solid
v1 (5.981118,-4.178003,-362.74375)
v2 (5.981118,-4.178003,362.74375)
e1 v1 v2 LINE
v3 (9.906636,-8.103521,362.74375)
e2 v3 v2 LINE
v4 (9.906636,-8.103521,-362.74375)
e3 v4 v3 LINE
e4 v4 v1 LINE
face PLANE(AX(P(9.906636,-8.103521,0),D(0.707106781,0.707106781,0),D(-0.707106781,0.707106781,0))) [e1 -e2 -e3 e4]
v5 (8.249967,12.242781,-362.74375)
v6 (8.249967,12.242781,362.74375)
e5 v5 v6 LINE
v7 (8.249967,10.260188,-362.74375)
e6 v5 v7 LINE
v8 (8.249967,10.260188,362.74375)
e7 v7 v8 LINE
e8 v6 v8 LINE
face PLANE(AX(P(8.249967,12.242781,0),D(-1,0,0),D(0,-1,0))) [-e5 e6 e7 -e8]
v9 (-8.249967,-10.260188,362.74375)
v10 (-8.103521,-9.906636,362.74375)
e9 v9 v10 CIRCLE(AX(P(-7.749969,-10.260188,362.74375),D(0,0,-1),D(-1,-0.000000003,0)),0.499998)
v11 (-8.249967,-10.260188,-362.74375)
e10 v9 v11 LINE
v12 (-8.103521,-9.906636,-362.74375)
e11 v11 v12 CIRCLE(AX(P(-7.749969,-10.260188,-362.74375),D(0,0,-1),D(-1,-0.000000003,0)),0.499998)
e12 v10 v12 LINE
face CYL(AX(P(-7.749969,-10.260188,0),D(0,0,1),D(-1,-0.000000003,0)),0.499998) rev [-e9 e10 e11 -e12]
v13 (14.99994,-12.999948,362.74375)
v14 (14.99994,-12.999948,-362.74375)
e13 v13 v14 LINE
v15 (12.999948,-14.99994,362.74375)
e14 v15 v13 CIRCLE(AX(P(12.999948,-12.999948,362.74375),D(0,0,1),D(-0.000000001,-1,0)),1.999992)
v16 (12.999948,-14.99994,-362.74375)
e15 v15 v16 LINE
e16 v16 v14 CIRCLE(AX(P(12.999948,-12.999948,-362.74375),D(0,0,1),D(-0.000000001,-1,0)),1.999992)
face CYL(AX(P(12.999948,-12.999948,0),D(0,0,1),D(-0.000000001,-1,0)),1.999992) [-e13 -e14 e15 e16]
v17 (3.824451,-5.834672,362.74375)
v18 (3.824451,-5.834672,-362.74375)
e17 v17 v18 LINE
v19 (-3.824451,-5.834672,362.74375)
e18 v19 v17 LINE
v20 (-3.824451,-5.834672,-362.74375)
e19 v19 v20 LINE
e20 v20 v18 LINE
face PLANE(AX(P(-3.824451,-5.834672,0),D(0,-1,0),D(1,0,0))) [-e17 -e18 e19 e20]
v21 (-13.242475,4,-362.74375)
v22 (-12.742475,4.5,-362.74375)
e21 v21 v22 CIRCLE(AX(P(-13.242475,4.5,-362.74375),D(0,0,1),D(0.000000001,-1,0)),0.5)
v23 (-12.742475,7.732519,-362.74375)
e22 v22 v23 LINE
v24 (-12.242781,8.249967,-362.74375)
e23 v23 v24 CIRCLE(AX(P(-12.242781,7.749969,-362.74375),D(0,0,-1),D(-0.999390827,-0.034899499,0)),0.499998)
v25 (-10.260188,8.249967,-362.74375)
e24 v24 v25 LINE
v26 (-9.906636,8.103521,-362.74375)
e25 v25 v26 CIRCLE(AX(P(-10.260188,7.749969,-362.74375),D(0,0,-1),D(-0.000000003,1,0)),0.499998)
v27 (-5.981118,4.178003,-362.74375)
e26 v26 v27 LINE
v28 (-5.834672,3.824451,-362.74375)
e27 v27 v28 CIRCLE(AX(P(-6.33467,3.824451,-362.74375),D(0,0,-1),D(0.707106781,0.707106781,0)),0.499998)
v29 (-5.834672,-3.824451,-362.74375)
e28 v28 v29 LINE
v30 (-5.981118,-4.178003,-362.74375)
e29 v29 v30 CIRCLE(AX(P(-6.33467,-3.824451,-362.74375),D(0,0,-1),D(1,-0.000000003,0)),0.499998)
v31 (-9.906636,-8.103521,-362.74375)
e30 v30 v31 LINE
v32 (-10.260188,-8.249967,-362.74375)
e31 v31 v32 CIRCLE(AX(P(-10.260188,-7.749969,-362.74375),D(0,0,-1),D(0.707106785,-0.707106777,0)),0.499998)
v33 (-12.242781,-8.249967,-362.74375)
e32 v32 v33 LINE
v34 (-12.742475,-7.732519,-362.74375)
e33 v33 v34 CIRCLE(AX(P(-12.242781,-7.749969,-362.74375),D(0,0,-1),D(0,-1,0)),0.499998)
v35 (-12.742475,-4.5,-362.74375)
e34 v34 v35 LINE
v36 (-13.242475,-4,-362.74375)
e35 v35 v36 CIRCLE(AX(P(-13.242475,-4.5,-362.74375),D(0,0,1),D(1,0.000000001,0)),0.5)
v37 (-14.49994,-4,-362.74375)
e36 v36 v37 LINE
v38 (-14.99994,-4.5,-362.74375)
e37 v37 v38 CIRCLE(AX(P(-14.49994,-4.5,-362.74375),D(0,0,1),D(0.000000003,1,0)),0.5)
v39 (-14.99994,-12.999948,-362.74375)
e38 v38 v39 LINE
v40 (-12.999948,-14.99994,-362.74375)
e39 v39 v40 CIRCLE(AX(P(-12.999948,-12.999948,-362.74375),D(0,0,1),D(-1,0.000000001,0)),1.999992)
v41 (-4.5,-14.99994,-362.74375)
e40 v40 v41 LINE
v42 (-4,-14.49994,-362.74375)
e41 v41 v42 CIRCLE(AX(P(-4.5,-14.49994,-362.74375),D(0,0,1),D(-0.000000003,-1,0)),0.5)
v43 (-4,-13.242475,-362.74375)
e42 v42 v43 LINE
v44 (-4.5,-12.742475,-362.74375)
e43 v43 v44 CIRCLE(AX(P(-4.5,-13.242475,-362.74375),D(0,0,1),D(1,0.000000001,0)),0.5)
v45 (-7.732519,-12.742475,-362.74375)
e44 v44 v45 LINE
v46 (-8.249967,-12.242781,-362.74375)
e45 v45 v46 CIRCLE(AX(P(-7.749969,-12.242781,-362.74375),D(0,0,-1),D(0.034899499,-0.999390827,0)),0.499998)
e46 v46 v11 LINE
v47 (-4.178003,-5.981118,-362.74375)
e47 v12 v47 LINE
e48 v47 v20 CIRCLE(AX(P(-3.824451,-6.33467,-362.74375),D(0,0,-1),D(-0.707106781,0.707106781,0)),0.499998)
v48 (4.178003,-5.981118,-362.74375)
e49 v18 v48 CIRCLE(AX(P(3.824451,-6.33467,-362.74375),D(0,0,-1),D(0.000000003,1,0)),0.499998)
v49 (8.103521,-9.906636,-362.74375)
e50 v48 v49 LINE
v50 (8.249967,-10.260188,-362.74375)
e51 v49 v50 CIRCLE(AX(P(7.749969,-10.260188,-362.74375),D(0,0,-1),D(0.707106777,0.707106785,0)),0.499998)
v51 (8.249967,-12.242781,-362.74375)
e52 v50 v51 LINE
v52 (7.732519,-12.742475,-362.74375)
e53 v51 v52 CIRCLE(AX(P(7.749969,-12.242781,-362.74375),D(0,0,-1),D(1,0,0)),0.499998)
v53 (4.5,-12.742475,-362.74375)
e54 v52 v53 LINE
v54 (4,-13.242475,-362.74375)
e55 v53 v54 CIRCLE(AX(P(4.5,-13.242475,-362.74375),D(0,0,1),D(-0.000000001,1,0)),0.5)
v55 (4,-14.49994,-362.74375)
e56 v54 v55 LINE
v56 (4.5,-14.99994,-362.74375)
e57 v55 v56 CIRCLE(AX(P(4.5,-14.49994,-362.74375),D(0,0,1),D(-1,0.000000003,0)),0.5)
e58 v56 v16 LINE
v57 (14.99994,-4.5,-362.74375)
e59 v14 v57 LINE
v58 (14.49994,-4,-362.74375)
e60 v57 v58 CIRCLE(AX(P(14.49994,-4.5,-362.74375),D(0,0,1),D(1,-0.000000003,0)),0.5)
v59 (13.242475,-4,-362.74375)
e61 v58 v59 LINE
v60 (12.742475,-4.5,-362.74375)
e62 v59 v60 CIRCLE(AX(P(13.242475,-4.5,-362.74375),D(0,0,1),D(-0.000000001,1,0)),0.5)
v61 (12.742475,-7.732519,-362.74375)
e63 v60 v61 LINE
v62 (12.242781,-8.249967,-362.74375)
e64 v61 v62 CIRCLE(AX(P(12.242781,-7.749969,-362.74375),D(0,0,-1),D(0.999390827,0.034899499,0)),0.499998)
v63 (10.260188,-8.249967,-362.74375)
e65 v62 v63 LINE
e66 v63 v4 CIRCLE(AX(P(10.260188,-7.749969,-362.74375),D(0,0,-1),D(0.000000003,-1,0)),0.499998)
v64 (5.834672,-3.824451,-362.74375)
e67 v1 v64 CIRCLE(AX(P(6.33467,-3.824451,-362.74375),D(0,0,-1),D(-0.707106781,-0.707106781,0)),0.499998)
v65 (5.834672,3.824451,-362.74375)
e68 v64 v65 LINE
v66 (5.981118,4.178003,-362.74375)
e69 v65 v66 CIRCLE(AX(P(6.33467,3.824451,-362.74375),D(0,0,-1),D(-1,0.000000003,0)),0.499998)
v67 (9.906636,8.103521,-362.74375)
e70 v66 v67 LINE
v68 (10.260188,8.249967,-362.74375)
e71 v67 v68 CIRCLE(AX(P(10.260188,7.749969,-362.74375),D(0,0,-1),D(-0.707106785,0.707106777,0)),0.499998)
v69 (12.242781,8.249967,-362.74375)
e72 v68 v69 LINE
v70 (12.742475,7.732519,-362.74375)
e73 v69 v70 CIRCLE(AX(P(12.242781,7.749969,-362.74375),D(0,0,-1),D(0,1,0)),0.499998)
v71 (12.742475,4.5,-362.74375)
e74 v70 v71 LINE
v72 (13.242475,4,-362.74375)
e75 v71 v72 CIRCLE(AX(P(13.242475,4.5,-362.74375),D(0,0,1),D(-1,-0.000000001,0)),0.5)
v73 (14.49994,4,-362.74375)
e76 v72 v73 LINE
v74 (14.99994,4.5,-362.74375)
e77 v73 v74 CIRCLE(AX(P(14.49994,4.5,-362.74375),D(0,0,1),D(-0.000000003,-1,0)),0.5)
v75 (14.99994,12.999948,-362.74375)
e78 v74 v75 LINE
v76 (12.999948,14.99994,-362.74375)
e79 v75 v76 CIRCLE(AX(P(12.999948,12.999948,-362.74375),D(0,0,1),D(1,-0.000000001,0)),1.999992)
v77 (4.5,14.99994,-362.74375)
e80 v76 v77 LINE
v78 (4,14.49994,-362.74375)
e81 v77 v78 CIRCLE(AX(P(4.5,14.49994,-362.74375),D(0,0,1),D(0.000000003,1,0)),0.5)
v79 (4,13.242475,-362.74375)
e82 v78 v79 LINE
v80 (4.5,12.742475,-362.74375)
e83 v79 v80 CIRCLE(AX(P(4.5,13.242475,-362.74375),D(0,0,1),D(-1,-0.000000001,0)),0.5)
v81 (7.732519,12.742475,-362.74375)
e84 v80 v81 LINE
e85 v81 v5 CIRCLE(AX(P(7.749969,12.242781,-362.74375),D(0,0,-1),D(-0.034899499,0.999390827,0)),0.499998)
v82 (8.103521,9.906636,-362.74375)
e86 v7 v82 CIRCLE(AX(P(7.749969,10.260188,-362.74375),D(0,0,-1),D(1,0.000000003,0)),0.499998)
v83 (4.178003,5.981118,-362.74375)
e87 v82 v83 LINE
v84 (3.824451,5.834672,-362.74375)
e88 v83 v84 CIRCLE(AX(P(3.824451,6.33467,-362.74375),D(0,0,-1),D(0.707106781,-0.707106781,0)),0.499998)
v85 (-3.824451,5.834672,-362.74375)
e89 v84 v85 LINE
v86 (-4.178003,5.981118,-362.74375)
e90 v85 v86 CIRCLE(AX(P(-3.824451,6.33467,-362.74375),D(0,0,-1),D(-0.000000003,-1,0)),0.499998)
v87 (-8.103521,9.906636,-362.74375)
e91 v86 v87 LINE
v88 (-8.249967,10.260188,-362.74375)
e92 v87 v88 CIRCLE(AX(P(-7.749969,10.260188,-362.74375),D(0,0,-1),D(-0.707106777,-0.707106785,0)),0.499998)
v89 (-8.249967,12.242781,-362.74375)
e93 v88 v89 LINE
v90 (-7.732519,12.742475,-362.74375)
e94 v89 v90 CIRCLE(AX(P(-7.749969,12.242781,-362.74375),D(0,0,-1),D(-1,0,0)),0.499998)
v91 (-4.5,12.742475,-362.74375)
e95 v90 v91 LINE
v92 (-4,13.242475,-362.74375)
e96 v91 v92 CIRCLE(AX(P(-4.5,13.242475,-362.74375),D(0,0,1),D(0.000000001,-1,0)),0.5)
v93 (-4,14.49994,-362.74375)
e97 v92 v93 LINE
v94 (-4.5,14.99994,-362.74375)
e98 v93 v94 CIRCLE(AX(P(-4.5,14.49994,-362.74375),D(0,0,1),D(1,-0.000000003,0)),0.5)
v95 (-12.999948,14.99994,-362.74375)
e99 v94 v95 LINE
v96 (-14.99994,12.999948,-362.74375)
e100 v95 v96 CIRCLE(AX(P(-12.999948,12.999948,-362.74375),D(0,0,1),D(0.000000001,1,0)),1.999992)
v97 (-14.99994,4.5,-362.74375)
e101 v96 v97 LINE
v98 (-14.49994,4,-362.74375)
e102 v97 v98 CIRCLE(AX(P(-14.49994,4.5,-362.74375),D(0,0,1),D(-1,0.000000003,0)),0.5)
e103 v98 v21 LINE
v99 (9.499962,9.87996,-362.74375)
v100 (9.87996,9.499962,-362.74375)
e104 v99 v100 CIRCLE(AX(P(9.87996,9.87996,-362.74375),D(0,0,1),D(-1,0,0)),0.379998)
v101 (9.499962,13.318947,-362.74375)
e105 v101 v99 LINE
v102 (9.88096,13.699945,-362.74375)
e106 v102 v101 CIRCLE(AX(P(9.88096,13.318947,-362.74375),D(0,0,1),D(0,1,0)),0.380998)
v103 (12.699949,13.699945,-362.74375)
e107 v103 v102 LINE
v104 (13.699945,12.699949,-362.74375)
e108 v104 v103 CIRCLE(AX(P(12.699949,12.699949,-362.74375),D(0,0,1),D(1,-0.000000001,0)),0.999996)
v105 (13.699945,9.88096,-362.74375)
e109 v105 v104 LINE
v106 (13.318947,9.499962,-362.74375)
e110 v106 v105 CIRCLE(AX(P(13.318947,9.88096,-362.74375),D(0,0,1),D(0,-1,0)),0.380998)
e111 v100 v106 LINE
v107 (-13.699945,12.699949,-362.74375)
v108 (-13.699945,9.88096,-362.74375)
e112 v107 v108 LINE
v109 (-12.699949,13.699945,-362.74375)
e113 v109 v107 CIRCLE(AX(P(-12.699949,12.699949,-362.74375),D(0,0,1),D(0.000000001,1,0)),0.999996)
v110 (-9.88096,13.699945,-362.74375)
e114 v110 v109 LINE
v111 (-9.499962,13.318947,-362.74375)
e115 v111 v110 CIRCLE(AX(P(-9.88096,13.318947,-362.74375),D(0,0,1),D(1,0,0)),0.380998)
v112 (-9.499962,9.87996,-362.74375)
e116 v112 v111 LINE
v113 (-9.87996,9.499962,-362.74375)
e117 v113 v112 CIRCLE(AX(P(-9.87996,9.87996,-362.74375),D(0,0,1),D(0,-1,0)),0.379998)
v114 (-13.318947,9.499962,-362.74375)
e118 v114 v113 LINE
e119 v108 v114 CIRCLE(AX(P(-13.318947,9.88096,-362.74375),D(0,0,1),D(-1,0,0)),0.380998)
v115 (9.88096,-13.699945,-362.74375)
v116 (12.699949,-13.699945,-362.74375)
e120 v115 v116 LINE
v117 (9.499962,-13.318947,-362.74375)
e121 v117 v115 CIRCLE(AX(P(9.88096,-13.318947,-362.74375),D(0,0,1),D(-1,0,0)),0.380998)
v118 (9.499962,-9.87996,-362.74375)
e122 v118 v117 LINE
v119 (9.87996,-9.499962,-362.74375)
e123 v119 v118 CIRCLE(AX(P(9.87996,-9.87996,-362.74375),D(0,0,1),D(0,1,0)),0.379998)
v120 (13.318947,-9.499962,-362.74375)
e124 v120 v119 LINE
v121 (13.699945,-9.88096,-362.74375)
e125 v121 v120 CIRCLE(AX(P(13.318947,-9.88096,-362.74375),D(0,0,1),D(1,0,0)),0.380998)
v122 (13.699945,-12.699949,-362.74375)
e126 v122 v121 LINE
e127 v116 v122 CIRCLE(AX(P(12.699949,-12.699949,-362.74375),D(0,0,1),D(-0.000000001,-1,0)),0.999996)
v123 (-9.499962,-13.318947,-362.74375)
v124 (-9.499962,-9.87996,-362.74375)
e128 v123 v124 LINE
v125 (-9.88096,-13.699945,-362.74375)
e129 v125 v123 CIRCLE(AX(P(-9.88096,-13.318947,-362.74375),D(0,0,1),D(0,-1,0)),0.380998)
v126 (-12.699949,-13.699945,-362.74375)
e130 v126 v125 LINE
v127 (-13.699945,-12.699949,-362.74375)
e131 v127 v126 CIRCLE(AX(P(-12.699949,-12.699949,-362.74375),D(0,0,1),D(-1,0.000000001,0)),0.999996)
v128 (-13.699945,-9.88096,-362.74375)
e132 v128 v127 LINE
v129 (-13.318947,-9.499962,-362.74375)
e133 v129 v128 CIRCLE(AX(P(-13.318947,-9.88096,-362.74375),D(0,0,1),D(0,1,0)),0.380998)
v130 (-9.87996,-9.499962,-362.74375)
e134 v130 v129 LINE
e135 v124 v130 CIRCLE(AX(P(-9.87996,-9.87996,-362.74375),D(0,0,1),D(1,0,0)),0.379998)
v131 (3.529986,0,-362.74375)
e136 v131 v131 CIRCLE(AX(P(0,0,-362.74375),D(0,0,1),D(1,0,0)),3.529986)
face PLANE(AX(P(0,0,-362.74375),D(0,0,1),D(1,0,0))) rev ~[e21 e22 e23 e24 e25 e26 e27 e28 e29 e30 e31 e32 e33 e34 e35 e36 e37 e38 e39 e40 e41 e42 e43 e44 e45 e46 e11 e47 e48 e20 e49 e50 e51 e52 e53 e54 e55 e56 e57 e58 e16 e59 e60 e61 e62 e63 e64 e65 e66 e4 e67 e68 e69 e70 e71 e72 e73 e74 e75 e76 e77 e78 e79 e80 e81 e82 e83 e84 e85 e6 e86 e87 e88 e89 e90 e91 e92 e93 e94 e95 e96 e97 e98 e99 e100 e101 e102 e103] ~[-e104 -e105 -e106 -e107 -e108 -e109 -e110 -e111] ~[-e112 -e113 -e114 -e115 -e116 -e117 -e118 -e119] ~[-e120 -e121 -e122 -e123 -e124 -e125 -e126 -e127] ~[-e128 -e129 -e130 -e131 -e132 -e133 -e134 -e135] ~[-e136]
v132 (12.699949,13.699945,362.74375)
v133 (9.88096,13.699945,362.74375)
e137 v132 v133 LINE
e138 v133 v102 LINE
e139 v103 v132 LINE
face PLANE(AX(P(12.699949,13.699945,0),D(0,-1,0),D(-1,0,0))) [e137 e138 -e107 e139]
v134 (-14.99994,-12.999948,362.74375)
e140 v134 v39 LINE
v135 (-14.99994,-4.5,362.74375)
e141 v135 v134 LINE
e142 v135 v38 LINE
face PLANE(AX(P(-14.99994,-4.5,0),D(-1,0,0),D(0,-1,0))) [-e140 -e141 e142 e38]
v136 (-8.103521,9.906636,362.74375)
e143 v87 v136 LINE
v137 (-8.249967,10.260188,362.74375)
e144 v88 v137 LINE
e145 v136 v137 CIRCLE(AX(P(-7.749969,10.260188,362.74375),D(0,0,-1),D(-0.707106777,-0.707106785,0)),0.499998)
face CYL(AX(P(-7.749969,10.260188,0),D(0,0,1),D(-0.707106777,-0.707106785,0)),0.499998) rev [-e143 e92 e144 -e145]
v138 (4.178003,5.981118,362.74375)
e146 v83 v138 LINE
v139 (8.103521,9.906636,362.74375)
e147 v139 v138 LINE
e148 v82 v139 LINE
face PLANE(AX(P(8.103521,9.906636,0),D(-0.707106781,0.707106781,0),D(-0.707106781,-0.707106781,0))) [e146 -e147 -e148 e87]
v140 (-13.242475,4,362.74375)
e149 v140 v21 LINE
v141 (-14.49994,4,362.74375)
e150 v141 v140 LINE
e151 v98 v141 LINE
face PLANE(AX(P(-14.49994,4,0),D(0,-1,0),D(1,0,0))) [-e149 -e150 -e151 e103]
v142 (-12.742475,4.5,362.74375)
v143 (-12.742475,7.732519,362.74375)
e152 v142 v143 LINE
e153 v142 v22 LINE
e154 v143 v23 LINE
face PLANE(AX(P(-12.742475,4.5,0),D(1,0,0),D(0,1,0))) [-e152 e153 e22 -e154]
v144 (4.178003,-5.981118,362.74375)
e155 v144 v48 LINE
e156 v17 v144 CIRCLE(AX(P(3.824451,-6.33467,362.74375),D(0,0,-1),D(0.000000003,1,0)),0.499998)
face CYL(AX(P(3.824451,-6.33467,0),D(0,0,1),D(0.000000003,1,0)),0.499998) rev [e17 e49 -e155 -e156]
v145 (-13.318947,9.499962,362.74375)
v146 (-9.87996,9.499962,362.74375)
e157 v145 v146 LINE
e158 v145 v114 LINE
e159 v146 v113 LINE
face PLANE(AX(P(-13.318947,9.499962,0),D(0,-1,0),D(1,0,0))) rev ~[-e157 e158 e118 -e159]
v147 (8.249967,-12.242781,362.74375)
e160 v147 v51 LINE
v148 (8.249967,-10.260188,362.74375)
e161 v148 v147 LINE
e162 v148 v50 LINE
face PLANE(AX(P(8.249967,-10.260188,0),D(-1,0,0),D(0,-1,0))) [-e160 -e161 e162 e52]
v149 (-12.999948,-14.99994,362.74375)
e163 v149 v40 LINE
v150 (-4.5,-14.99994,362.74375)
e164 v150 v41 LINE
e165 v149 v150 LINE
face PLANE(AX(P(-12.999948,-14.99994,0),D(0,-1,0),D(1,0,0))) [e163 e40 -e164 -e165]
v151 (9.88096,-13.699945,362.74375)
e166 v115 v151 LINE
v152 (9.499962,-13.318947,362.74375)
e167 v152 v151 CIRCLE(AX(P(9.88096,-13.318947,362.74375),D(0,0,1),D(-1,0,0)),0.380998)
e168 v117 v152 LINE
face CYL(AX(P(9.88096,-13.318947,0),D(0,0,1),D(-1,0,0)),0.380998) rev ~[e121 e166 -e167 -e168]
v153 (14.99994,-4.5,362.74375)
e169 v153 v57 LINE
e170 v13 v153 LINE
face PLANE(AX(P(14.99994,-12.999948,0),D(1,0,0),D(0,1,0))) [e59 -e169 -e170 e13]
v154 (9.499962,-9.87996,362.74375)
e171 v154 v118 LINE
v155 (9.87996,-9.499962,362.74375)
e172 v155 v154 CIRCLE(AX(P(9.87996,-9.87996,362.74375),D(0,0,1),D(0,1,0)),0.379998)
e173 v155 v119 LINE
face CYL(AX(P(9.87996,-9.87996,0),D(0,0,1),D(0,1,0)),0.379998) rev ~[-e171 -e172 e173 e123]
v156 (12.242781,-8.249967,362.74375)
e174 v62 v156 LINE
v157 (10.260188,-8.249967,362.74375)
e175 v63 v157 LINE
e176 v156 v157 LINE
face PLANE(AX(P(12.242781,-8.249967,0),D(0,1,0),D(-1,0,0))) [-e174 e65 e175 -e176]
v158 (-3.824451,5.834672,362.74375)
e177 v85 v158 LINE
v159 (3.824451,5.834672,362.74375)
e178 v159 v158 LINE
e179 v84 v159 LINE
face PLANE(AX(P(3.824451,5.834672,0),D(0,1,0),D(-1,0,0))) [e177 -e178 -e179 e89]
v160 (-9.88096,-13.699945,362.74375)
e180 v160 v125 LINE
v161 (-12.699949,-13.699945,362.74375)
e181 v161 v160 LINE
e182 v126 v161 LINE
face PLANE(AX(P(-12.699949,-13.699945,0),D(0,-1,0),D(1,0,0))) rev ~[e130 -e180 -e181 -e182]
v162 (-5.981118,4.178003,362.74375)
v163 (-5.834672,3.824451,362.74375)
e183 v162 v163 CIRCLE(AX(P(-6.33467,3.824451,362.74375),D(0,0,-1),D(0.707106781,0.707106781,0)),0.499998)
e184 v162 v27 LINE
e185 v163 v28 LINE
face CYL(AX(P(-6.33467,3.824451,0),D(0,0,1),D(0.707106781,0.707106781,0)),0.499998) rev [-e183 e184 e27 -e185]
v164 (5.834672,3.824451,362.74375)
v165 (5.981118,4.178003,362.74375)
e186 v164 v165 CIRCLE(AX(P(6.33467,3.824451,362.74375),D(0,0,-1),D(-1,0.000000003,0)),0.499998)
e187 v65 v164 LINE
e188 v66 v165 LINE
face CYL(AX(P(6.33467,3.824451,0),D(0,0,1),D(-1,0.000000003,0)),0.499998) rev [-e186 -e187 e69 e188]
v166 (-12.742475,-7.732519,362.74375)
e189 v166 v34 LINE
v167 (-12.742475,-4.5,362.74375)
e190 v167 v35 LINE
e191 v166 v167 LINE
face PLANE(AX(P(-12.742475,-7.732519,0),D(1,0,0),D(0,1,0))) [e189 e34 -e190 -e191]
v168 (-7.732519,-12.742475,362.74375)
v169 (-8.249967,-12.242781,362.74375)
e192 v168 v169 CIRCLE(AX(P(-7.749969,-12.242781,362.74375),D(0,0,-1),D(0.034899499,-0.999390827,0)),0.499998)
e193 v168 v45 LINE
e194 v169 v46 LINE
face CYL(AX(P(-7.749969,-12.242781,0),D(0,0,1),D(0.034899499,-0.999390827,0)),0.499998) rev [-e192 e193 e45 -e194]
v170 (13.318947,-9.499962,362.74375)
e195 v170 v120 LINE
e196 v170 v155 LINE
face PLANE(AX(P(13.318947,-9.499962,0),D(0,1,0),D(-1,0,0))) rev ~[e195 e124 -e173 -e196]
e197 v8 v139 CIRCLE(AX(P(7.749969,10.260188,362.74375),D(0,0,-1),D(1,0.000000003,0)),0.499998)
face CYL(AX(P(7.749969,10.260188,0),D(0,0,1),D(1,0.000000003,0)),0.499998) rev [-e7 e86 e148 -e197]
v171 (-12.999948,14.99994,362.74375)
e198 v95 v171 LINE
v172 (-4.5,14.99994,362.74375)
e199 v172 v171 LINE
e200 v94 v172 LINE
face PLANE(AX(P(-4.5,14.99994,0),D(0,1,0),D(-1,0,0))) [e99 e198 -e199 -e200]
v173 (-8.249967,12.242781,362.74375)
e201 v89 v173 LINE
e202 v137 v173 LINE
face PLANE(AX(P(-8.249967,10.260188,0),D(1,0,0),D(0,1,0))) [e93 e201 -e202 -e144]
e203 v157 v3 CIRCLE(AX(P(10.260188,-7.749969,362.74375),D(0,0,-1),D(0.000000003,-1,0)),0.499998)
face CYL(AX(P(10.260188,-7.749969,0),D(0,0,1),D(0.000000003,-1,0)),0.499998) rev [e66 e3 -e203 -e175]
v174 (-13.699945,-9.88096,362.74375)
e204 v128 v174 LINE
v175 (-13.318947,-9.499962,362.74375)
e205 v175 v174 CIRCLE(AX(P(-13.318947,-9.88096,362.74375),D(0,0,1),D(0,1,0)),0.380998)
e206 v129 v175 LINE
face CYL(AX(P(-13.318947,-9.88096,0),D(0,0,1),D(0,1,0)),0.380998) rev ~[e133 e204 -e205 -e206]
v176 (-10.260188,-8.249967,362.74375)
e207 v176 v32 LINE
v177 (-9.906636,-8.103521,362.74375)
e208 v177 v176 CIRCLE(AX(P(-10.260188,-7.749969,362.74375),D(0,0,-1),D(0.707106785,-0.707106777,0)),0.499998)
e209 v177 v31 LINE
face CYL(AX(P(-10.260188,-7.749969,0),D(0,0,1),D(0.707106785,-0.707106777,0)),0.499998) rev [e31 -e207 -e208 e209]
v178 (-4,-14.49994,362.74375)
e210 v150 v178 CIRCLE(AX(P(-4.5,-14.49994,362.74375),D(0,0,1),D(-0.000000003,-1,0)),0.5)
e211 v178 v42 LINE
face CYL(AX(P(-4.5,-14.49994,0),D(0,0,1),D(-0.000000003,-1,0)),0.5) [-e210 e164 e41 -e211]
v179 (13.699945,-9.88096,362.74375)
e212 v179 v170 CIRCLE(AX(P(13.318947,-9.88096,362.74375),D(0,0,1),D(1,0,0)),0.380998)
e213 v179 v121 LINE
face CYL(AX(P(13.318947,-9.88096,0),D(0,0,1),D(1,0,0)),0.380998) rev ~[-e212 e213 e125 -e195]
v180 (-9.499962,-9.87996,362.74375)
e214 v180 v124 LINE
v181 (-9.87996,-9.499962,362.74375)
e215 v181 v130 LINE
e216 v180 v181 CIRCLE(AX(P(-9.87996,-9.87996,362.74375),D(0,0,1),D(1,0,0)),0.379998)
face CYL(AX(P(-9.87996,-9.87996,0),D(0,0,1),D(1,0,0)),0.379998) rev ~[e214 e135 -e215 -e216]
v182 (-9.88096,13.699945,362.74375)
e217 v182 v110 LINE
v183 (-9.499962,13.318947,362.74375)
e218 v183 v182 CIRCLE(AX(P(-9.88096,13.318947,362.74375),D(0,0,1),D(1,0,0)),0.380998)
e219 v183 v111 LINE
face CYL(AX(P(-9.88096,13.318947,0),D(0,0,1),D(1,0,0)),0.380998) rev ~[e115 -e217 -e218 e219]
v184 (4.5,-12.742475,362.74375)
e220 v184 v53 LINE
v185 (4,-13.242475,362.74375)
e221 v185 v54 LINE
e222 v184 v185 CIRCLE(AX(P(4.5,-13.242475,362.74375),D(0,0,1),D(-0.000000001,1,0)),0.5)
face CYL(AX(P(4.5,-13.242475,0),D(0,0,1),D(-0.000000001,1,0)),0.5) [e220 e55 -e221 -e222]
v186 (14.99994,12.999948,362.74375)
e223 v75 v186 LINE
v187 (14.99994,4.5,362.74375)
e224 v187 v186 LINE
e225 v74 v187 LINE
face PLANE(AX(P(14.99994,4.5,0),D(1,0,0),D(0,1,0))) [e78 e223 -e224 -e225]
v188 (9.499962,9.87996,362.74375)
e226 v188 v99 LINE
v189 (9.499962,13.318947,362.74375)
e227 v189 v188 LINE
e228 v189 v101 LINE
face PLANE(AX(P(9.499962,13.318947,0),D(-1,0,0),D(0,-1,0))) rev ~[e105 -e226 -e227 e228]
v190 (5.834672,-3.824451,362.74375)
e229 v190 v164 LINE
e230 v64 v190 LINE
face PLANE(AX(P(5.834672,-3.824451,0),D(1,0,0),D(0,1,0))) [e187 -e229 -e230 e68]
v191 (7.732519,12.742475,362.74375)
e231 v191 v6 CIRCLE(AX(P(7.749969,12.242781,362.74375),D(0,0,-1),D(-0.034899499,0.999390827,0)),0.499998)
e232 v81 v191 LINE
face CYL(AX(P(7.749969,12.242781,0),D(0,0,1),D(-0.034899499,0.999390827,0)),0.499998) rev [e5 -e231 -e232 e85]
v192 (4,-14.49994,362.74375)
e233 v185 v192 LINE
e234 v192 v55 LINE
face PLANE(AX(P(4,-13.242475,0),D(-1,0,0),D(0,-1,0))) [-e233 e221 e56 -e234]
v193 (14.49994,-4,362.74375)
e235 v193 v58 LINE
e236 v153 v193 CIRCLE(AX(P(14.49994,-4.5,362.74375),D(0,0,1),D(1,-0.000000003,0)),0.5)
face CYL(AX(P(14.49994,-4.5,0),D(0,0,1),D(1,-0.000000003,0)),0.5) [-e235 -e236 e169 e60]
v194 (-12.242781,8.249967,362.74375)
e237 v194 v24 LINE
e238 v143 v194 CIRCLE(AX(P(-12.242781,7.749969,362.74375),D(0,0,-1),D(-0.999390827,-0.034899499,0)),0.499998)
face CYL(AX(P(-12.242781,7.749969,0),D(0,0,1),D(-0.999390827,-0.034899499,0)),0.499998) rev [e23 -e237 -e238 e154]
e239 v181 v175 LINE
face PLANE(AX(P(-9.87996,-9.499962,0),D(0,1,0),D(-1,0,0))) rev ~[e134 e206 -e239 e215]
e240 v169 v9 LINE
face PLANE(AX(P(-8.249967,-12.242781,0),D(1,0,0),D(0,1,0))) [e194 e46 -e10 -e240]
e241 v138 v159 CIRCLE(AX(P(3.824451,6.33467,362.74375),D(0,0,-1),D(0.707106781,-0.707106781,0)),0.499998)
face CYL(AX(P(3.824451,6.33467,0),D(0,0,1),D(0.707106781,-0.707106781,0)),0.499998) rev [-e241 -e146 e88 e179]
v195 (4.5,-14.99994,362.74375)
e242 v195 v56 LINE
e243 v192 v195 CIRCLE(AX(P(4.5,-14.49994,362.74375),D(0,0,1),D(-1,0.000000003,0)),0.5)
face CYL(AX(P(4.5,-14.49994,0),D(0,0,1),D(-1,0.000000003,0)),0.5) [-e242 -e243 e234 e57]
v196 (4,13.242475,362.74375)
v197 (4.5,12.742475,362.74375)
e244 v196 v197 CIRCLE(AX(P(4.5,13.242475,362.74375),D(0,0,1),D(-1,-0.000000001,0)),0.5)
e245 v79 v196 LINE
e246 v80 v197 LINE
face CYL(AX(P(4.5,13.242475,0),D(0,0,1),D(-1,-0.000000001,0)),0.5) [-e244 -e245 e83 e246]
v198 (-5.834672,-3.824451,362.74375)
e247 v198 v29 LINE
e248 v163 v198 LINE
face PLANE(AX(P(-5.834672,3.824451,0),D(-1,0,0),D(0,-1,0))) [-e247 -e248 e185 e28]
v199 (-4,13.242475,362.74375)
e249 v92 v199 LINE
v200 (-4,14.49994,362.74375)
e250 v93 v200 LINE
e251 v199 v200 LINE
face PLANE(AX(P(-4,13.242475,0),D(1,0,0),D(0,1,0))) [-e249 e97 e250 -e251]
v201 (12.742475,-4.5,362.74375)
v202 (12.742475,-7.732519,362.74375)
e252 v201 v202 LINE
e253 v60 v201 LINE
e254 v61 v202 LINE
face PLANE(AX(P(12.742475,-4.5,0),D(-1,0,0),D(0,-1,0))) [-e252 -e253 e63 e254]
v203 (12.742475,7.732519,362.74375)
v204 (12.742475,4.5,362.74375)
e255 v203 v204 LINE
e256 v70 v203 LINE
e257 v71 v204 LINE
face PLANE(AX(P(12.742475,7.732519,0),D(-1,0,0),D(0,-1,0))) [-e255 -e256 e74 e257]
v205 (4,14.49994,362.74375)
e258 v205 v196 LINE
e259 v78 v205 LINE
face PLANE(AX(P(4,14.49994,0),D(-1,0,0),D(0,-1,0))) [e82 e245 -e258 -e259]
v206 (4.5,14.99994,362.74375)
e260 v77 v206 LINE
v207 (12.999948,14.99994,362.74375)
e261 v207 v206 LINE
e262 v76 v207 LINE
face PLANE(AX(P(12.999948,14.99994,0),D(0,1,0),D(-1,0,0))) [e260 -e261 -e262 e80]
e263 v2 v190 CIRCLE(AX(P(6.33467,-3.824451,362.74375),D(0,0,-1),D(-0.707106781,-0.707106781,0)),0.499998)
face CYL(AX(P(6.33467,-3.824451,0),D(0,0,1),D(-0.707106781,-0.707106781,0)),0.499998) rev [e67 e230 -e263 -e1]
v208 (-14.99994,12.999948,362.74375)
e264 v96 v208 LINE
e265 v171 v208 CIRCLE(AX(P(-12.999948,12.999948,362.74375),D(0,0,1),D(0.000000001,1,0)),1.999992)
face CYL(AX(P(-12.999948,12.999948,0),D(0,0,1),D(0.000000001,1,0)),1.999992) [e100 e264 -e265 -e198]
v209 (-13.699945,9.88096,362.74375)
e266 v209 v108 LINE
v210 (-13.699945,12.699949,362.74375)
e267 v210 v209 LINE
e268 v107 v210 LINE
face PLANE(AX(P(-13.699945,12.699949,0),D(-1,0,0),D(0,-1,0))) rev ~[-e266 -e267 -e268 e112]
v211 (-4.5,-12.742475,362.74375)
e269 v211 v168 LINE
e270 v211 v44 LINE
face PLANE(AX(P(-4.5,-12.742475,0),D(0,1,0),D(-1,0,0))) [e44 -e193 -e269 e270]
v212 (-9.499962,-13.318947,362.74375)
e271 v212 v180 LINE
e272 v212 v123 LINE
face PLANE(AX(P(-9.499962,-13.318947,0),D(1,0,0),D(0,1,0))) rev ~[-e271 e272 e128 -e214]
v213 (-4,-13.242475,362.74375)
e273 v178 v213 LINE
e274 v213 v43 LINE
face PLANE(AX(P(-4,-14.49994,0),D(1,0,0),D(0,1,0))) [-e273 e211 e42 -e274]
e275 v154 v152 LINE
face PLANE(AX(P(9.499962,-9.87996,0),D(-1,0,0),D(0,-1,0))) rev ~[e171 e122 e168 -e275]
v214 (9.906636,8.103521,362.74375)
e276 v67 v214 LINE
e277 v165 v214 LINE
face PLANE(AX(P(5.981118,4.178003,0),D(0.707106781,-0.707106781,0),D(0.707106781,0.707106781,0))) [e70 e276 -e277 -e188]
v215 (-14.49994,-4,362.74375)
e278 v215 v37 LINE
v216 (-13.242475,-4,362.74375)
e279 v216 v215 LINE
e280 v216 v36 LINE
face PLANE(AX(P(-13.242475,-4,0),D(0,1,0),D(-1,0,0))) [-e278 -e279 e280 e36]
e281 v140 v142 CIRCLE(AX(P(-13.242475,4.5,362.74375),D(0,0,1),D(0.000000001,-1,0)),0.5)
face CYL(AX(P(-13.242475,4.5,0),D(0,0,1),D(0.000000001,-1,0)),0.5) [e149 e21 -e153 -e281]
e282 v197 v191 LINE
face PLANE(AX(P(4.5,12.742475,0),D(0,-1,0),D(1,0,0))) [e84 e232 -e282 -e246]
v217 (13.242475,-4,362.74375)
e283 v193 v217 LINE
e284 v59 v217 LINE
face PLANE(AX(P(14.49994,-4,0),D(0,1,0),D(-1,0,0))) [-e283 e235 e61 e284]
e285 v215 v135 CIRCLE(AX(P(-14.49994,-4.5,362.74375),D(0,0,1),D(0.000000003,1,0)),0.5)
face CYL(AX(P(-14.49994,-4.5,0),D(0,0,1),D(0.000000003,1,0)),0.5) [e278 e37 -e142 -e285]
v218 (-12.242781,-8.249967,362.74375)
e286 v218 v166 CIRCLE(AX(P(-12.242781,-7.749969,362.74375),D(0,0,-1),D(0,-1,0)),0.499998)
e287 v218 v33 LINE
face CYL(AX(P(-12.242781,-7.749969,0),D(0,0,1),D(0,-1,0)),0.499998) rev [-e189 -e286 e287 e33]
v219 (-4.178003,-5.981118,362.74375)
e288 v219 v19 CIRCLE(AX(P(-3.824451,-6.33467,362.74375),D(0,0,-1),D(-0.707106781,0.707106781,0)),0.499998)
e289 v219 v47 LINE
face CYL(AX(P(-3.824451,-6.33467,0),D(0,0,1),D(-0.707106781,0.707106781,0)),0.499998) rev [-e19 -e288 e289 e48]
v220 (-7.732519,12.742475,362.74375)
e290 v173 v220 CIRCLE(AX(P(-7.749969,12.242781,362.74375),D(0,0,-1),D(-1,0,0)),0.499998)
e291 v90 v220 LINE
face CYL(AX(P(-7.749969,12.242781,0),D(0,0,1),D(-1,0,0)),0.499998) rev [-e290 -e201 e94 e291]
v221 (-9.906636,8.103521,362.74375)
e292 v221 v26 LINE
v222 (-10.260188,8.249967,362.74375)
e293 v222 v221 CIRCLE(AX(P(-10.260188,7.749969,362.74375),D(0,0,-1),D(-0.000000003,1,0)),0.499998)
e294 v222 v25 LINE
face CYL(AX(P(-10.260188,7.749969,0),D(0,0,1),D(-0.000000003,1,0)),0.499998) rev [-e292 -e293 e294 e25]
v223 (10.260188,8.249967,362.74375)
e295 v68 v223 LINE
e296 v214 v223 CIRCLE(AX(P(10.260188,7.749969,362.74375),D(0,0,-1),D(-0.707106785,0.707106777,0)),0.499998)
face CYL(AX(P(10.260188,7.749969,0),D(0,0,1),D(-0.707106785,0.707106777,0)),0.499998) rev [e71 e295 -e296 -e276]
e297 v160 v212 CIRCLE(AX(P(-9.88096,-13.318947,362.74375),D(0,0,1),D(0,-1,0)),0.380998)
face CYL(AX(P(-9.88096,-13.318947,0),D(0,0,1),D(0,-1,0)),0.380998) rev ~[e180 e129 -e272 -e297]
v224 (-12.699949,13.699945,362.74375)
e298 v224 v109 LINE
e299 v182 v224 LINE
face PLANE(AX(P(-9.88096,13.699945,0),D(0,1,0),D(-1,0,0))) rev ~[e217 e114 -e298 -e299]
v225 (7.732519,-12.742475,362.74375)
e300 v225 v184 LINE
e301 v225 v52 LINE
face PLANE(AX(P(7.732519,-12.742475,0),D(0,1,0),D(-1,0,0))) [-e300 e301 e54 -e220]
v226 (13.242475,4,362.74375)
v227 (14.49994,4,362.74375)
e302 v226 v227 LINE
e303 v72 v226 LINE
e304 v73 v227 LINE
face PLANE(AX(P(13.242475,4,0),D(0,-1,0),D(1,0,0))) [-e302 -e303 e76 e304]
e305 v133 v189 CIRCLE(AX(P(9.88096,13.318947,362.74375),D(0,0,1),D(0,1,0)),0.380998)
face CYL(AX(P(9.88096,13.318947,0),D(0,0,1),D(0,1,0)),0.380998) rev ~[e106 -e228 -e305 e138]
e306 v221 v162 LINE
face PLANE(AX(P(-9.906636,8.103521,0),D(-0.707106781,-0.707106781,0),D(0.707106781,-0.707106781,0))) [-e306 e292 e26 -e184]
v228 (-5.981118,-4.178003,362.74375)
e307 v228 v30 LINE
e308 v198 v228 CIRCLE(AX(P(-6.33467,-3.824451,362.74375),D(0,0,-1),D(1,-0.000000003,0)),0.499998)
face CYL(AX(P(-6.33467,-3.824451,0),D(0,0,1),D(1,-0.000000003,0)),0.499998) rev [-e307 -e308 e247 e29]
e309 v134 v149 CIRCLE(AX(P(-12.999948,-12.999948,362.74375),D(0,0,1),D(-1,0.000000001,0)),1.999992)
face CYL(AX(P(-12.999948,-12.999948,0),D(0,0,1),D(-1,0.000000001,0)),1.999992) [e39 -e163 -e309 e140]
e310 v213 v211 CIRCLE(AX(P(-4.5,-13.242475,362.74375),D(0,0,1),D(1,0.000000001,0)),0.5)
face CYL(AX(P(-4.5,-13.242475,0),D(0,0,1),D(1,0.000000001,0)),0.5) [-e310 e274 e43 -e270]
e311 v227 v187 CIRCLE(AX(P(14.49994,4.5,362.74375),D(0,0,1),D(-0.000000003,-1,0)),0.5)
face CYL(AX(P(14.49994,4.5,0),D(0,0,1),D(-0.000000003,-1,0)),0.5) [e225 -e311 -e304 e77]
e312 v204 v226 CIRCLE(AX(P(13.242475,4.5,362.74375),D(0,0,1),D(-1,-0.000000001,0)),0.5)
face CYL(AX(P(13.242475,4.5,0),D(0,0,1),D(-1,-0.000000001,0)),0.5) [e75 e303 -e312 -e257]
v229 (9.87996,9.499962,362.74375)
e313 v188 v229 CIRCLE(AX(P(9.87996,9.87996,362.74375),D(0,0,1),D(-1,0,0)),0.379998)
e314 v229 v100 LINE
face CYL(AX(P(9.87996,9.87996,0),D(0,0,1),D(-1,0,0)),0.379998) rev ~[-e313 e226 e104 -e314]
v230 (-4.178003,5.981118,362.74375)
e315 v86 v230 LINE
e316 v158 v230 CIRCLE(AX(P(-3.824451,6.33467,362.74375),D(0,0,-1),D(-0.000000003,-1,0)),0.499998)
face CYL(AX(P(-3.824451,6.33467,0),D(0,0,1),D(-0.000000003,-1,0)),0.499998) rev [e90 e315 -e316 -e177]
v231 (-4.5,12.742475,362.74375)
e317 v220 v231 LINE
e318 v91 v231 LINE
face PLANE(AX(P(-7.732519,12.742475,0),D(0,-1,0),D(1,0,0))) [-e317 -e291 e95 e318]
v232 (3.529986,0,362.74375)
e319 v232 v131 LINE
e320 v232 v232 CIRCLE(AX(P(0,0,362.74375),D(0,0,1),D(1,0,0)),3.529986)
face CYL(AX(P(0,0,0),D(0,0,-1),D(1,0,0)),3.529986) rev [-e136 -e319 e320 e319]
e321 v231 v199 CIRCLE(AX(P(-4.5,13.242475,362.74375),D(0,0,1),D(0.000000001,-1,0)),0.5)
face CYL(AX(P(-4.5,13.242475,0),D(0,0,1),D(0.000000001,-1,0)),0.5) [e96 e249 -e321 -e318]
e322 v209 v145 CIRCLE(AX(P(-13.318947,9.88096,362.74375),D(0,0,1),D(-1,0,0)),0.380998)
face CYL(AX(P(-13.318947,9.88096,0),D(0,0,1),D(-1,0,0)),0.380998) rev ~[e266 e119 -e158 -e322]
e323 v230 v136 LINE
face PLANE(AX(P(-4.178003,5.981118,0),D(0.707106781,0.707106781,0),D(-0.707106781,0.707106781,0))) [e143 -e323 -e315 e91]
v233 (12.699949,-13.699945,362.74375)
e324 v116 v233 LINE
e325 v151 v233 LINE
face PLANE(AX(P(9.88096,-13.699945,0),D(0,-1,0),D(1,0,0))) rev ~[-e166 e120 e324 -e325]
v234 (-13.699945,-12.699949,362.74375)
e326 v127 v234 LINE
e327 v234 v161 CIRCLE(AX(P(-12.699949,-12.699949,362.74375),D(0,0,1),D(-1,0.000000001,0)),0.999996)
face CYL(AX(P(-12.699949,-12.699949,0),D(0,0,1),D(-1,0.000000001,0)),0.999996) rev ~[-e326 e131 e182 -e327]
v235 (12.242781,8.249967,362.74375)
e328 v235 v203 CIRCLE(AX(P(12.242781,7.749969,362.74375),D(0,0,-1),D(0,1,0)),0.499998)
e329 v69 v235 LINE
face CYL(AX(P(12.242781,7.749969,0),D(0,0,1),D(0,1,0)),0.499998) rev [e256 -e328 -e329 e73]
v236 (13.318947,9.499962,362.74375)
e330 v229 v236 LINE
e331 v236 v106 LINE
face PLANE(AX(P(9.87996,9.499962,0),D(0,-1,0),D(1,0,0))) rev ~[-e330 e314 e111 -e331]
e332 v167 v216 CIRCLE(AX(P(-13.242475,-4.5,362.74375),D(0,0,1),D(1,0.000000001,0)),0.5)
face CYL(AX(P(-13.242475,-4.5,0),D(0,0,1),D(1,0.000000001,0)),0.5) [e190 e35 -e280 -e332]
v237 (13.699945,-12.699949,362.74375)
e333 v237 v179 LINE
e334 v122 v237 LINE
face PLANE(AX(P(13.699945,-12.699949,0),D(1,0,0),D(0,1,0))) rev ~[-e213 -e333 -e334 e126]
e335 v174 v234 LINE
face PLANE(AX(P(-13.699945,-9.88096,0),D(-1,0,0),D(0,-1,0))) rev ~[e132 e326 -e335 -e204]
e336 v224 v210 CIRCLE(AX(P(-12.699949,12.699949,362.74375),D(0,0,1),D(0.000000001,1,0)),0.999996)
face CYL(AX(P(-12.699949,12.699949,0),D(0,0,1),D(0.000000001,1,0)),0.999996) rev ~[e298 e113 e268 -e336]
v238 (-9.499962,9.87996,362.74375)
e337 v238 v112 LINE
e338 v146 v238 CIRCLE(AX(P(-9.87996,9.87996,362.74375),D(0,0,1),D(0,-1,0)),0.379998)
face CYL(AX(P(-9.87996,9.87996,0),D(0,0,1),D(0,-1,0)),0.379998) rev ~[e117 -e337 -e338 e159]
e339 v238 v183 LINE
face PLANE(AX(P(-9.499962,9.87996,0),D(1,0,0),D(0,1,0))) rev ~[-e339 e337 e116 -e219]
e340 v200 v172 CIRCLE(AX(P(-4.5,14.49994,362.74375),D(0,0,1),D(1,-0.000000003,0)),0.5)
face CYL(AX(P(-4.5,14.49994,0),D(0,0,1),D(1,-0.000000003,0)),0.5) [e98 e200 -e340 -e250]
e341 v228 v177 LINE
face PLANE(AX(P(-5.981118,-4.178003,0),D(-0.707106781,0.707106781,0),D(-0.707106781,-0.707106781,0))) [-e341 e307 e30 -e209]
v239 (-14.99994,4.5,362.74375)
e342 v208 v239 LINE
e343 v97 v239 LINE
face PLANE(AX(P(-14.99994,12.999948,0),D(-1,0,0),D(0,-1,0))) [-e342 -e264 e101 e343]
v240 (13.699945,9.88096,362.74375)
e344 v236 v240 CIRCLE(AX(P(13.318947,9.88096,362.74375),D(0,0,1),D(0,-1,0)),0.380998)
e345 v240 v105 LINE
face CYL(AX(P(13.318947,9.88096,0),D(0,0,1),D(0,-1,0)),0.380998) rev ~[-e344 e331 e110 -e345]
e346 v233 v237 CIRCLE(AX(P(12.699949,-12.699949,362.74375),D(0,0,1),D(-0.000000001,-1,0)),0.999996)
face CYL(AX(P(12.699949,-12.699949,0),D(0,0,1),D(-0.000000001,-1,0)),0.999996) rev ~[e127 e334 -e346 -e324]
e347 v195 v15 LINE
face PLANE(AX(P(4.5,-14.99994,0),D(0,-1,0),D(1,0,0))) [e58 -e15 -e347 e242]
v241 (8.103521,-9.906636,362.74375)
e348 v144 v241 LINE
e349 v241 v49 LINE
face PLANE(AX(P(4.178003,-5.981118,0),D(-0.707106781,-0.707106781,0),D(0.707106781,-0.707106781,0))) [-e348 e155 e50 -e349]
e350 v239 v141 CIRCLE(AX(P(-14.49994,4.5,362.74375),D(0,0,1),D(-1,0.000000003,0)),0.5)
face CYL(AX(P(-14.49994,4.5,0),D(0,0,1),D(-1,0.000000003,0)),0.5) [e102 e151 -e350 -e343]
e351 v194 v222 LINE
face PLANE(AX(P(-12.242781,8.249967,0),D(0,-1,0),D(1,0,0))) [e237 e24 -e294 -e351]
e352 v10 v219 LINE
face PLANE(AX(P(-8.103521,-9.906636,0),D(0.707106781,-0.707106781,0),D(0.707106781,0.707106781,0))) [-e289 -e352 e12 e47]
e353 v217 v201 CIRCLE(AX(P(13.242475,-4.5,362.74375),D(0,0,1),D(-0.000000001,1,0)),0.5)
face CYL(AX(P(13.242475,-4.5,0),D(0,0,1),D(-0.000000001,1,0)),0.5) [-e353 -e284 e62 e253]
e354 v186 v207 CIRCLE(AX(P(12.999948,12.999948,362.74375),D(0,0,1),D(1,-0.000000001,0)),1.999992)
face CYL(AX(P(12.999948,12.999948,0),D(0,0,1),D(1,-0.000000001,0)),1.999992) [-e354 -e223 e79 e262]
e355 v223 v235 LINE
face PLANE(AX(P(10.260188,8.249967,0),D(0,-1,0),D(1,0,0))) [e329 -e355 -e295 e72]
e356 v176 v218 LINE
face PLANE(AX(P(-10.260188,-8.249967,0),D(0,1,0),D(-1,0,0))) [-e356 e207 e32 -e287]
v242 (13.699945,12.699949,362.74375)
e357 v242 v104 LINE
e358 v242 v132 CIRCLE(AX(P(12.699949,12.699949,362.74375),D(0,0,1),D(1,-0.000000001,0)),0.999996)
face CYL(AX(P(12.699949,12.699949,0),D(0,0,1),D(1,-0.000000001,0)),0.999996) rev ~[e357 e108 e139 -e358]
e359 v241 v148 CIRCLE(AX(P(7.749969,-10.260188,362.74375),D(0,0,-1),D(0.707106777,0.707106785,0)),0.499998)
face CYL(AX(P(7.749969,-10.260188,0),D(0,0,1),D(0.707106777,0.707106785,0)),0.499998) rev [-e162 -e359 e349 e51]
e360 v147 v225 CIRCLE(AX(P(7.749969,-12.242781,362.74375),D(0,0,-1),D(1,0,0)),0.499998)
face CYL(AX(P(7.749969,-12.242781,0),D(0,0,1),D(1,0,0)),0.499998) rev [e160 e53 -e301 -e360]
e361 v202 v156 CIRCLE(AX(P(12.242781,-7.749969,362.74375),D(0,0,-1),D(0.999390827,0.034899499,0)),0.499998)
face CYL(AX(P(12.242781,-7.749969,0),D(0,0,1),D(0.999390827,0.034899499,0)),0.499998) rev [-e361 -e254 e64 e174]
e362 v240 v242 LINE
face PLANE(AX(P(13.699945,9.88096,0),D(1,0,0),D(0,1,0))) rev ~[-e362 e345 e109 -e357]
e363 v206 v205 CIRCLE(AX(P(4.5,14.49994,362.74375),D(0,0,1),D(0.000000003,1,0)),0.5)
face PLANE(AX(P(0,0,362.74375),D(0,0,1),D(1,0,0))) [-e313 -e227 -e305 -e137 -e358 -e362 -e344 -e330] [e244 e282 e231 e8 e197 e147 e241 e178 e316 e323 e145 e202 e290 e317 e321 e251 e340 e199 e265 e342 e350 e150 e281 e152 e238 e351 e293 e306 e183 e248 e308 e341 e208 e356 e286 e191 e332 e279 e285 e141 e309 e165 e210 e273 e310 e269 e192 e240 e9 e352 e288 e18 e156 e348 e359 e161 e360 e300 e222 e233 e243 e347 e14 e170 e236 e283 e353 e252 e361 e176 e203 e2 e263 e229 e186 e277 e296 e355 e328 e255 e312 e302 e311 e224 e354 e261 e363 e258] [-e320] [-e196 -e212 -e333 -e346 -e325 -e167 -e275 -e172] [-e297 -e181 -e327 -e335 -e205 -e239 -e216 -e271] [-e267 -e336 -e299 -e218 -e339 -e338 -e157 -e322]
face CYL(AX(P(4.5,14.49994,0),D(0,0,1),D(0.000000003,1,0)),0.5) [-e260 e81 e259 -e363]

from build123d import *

# Parameters (mm, degrees)
SKETCH1_R           = 3.52998588
BOSS_EXTRUDE1_DEPTH = 362.74375


with BuildPart() as part:
    # Sketch1 → Boss-Extrude1 (new, symmetric)
    with BuildSketch(Plane.XY):
        with BuildLine():
            Line((14.49994, -4), (13.24247465, -4))
            ThreePointArc((13.24247465, -4), (12.88892126, -4.146446609), (12.74247465, -4.5))
            Line((12.74247465, -4.5), (12.74247465, -7.732519321))
            ThreePointArc((12.74247465, -7.732519321), (12.602449697, -8.097296796), (12.242781236, -8.249967))
            Line((12.242781236, -8.249967), (10.260188032, -8.249967))
            ThreePointArc((10.260188032, -8.249967), (10.068847082, -8.211906919), (9.906636056, -8.103520976))
            Line((9.906636056, -8.103520976), (5.981117769, -4.178002689))
            ThreePointArc((5.981117769, -4.178002689), (5.872731827, -4.015791664), (5.834671745, -3.824450713))
            Line((5.834671745, -3.824450713), (5.834671745, -1.01249595))
            Line((5.834671745, -1.01249595), (5.834671745, 0.88749645))
            Line((5.834671745, 0.88749645), (5.834671745, 3.824450713))
            ThreePointArc((5.834671745, 3.824450713), (5.872731827, 4.015791664), (5.981117769, 4.178002689))
            Line((5.981117769, 4.178002689), (9.906636056, 8.103520976))
            ThreePointArc((9.906636056, 8.103520976), (10.068847082, 8.211906919), (10.260188032, 8.249967))
            Line((10.260188032, 8.249967), (12.242781236, 8.249967))
            ThreePointArc((12.242781236, 8.249967), (12.602449697, 8.097296796), (12.74247465, 7.732519321))
            Line((12.74247465, 7.732519321), (12.74247465, 4.5))
            ThreePointArc((12.74247465, 4.5), (12.88892126, 4.146446609), (13.24247465, 4))
            Line((13.24247465, 4), (14.49994, 4))
            ThreePointArc((14.49994, 4), (14.853493391, 4.146446609), (14.99994, 4.5))
            Line((14.99994, 4.5), (14.99994, 12.999948))
            ThreePointArc((14.99994, 12.999948), (14.414155906, 14.414155906), (12.999948, 14.99994))
            Line((12.999948, 14.99994), (4.5, 14.99994))
            ThreePointArc((4.5, 14.99994), (4.146446609, 14.853493391), (4, 14.49994))
            Line((4, 14.49994), (4, 13.24247465))
            ThreePointArc((4, 13.24247465), (4.146446609, 12.88892126), (4.5, 12.74247465))
            Line((4.5, 12.74247465), (7.732519321, 12.74247465))
            ThreePointArc((7.732519321, 12.74247465), (8.097296796, 12.602449697), (8.249967, 12.242781236))
            Line((8.249967, 12.242781236), (8.249967, 10.260188032))
            ThreePointArc((8.249967, 10.260188032), (8.211906919, 10.068847082), (8.103520976, 9.906636056))
            Line((8.103520976, 9.906636056), (4.178002689, 5.981117769))
            ThreePointArc((4.178002689, 5.981117769), (4.015791664, 5.872731827), (3.824450713, 5.834671745))
            Line((3.824450713, 5.834671745), (0.9499962, 5.834671745))
            Line((0.9499962, 5.834671745), (-0.9499962, 5.834671745))
            Line((-0.9499962, 5.834671745), (-3.824450713, 5.834671745))
            ThreePointArc((-3.824450713, 5.834671745), (-4.015791664, 5.872731827), (-4.178002689, 5.981117769))
            Line((-4.178002689, 5.981117769), (-8.103520976, 9.906636056))
            ThreePointArc((-8.103520976, 9.906636056), (-8.211906919, 10.068847082), (-8.249967, 10.260188032))
            Line((-8.249967, 10.260188032), (-8.249967, 12.242781236))
            ThreePointArc((-8.249967, 12.242781236), (-8.097296796, 12.602449697), (-7.732519321, 12.74247465))
            Line((-7.732519321, 12.74247465), (-4.5, 12.74247465))
            ThreePointArc((-4.5, 12.74247465), (-4.146446609, 12.88892126), (-4, 13.24247465))
            Line((-4, 13.24247465), (-4, 14.49994))
            ThreePointArc((-4, 14.49994), (-4.146446609, 14.853493391), (-4.5, 14.99994))
            Line((-4.5, 14.99994), (-12.999948, 14.99994))
            ThreePointArc((-12.999948, 14.99994), (-14.414155906, 14.414155906), (-14.99994, 12.999948))
            Line((-14.99994, 12.999948), (-14.99994, 4.5))
            ThreePointArc((-14.99994, 4.5), (-14.853493391, 4.146446609), (-14.49994, 4))
            Line((-14.49994, 4), (-13.24247465, 4))
            ThreePointArc((-13.24247465, 4), (-12.88892126, 4.146446609), (-12.74247465, 4.5))
            Line((-12.74247465, 4.5), (-12.74247465, 7.732519321))
            ThreePointArc((-12.74247465, 7.732519321), (-12.602449697, 8.097296796), (-12.242781236, 8.249967))
            Line((-12.242781236, 8.249967), (-10.260188032, 8.249967))
            ThreePointArc((-10.260188032, 8.249967), (-10.068847082, 8.211906919), (-9.906636056, 8.103520976))
            Line((-9.906636056, 8.103520976), (-5.981117769, 4.178002689))
            ThreePointArc((-5.981117769, 4.178002689), (-5.872731827, 4.015791664), (-5.834671745, 3.824450713))
            Line((-5.834671745, 3.824450713), (-5.834671745, 0.88749645))
            Line((-5.834671745, 0.88749645), (-5.834671745, -1.01249595))
            Line((-5.834671745, -1.01249595), (-5.834671745, -3.824450713))
            ThreePointArc((-5.834671745, -3.824450713), (-5.872731827, -4.015791664), (-5.981117769, -4.178002689))
            Line((-5.981117769, -4.178002689), (-9.906636056, -8.103520976))
            ThreePointArc((-9.906636056, -8.103520976), (-10.068847082, -8.211906919), (-10.260188032, -8.249967))
            Line((-10.260188032, -8.249967), (-12.242781236, -8.249967))
            ThreePointArc((-12.242781236, -8.249967), (-12.602449697, -8.097296796), (-12.74247465, -7.732519321))
            Line((-12.74247465, -7.732519321), (-12.74247465, -4.5))
            ThreePointArc((-12.74247465, -4.5), (-12.88892126, -4.146446609), (-13.24247465, -4))
            Line((-13.24247465, -4), (-14.49994, -4))
            ThreePointArc((-14.49994, -4), (-14.853493391, -4.146446609), (-14.99994, -4.5))
            Line((-14.99994, -4.5), (-14.99994, -12.999948))
            ThreePointArc((-14.99994, -12.999948), (-14.414155906, -14.414155906), (-12.999948, -14.99994))
            Line((-12.999948, -14.99994), (-4.5, -14.99994))
            ThreePointArc((-4.5, -14.99994), (-4.146446609, -14.853493391), (-4, -14.49994))
            Line((-4, -14.49994), (-4, -13.24247465))
            ThreePointArc((-4, -13.24247465), (-4.146446609, -12.88892126), (-4.5, -12.74247465))
            Line((-4.5, -12.74247465), (-7.732519321, -12.74247465))
            ThreePointArc((-7.732519321, -12.74247465), (-8.097296796, -12.602449697), (-8.249967, -12.242781236))
            Line((-8.249967, -12.242781236), (-8.249967, -10.260188032))
            ThreePointArc((-8.249967, -10.260188032), (-8.211906919, -10.068847082), (-8.103520976, -9.906636056))
            Line((-8.103520976, -9.906636056), (-4.178002689, -5.981117769))
            ThreePointArc((-4.178002689, -5.981117769), (-4.015791664, -5.872731827), (-3.824450713, -5.834671745))
            Line((-3.824450713, -5.834671745), (-0.9499962, -5.834671745))
            Line((-0.9499962, -5.834671745), (0.9499962, -5.834671745))
            Line((0.9499962, -5.834671745), (3.824450713, -5.834671745))
            ThreePointArc((3.824450713, -5.834671745), (4.015791664, -5.872731827), (4.178002689, -5.981117769))
            Line((4.178002689, -5.981117769), (8.103520976, -9.906636056))
            ThreePointArc((8.103520976, -9.906636056), (8.211906919, -10.068847082), (8.249967, -10.260188032))
            Line((8.249967, -10.260188032), (8.249967, -12.242781236))
            ThreePointArc((8.249967, -12.242781236), (8.097296796, -12.602449697), (7.732519321, -12.74247465))
            Line((7.732519321, -12.74247465), (4.5, -12.74247465))
            ThreePointArc((4.5, -12.74247465), (4.146446609, -12.88892126), (4, -13.24247465))
            Line((4, -13.24247465), (4, -14.49994))
            ThreePointArc((4, -14.49994), (4.146446609, -14.853493391), (4.5, -14.99994))
            Line((4.5, -14.99994), (12.999948, -14.99994))
            ThreePointArc((12.999948, -14.99994), (14.414155906, -14.414155906), (14.99994, -12.999948))
            Line((14.99994, -12.999948), (14.99994, -4.5))
            ThreePointArc((14.99994, -4.5), (14.853493391, -4.146446609), (14.49994, -4))
        make_face()
        Circle(SKETCH1_R, mode=Mode.SUBTRACT)
        with BuildLine():
            Line((-12.6999492, -13.6999452), (-9.880960476, -13.6999452))
            ThreePointArc((-9.880960476, -13.6999452), (-9.61155387, -13.58835333), (-9.499962, -13.318946724))
            Line((-9.499962, -13.318946724), (-9.499962, -9.87996048))
            ThreePointArc((-9.499962, -9.87996048), (-9.611260978, -9.611260978), (-9.87996048, -9.499962))
            Line((-9.87996048, -9.499962), (-13.318946724, -9.499962))
            ThreePointArc((-13.318946724, -9.499962), (-13.58835333, -9.61155387), (-13.6999452, -9.880960476))
            Line((-13.6999452, -9.880960476), (-13.6999452, -12.6999492))
            ThreePointArc((-13.6999452, -12.6999492), (-13.407053153, -13.407053153), (-12.6999492, -13.6999452))
        make_face(mode=Mode.SUBTRACT)
        with BuildLine():
            Line((13.6999452, -12.6999492), (13.6999452, -9.880960476))
            ThreePointArc((13.6999452, -9.880960476), (13.58835333, -9.61155387), (13.318946724, -9.499962))
            Line((13.318946724, -9.499962), (9.87996048, -9.499962))
            ThreePointArc((9.87996048, -9.499962), (9.611260978, -9.611260978), (9.499962, -9.87996048))
            Line((9.499962, -9.87996048), (9.499962, -13.318946724))
            ThreePointArc((9.499962, -13.318946724), (9.61155387, -13.58835333), (9.880960476, -13.6999452))
            Line((9.880960476, -13.6999452), (12.6999492, -13.6999452))
            ThreePointArc((12.6999492, -13.6999452), (13.407053153, -13.407053153), (13.6999452, -12.6999492))
        make_face(mode=Mode.SUBTRACT)
        with BuildLine():
            Line((9.87996048, 9.499962), (13.318946724, 9.499962))
            ThreePointArc((13.318946724, 9.499962), (13.58835333, 9.61155387), (13.6999452, 9.880960476))
            Line((13.6999452, 9.880960476), (13.6999452, 12.6999492))
            ThreePointArc((13.6999452, 12.6999492), (13.407053153, 13.407053153), (12.6999492, 13.6999452))
            Line((12.6999492, 13.6999452), (9.880960476, 13.6999452))
            ThreePointArc((9.880960476, 13.6999452), (9.61155387, 13.58835333), (9.499962, 13.318946724))
            Line((9.499962, 13.318946724), (9.499962, 9.87996048))
            ThreePointArc((9.499962, 9.87996048), (9.611260978, 9.611260978), (9.87996048, 9.499962))
        make_face(mode=Mode.SUBTRACT)
        with BuildLine():
            Line((-13.6999452, 12.6999492), (-13.6999452, 9.880960476))
            ThreePointArc((-13.6999452, 9.880960476), (-13.58835333, 9.61155387), (-13.318946724, 9.499962))
            Line((-13.318946724, 9.499962), (-9.87996048, 9.499962))
            ThreePointArc((-9.87996048, 9.499962), (-9.611260978, 9.611260978), (-9.499962, 9.87996048))
            Line((-9.499962, 9.87996048), (-9.499962, 13.318946724))
            ThreePointArc((-9.499962, 13.318946724), (-9.61155387, 13.58835333), (-9.880960476, 13.6999452))
            Line((-9.880960476, 13.6999452), (-12.6999492, 13.6999452))
            ThreePointArc((-12.6999492, 13.6999452), (-13.407053153, 13.407053153), (-13.6999452, 12.6999492))
        make_face(mode=Mode.SUBTRACT)
    extrude(amount=BOSS_EXTRUDE1_DEPTH, both=True)


solid = part.part
